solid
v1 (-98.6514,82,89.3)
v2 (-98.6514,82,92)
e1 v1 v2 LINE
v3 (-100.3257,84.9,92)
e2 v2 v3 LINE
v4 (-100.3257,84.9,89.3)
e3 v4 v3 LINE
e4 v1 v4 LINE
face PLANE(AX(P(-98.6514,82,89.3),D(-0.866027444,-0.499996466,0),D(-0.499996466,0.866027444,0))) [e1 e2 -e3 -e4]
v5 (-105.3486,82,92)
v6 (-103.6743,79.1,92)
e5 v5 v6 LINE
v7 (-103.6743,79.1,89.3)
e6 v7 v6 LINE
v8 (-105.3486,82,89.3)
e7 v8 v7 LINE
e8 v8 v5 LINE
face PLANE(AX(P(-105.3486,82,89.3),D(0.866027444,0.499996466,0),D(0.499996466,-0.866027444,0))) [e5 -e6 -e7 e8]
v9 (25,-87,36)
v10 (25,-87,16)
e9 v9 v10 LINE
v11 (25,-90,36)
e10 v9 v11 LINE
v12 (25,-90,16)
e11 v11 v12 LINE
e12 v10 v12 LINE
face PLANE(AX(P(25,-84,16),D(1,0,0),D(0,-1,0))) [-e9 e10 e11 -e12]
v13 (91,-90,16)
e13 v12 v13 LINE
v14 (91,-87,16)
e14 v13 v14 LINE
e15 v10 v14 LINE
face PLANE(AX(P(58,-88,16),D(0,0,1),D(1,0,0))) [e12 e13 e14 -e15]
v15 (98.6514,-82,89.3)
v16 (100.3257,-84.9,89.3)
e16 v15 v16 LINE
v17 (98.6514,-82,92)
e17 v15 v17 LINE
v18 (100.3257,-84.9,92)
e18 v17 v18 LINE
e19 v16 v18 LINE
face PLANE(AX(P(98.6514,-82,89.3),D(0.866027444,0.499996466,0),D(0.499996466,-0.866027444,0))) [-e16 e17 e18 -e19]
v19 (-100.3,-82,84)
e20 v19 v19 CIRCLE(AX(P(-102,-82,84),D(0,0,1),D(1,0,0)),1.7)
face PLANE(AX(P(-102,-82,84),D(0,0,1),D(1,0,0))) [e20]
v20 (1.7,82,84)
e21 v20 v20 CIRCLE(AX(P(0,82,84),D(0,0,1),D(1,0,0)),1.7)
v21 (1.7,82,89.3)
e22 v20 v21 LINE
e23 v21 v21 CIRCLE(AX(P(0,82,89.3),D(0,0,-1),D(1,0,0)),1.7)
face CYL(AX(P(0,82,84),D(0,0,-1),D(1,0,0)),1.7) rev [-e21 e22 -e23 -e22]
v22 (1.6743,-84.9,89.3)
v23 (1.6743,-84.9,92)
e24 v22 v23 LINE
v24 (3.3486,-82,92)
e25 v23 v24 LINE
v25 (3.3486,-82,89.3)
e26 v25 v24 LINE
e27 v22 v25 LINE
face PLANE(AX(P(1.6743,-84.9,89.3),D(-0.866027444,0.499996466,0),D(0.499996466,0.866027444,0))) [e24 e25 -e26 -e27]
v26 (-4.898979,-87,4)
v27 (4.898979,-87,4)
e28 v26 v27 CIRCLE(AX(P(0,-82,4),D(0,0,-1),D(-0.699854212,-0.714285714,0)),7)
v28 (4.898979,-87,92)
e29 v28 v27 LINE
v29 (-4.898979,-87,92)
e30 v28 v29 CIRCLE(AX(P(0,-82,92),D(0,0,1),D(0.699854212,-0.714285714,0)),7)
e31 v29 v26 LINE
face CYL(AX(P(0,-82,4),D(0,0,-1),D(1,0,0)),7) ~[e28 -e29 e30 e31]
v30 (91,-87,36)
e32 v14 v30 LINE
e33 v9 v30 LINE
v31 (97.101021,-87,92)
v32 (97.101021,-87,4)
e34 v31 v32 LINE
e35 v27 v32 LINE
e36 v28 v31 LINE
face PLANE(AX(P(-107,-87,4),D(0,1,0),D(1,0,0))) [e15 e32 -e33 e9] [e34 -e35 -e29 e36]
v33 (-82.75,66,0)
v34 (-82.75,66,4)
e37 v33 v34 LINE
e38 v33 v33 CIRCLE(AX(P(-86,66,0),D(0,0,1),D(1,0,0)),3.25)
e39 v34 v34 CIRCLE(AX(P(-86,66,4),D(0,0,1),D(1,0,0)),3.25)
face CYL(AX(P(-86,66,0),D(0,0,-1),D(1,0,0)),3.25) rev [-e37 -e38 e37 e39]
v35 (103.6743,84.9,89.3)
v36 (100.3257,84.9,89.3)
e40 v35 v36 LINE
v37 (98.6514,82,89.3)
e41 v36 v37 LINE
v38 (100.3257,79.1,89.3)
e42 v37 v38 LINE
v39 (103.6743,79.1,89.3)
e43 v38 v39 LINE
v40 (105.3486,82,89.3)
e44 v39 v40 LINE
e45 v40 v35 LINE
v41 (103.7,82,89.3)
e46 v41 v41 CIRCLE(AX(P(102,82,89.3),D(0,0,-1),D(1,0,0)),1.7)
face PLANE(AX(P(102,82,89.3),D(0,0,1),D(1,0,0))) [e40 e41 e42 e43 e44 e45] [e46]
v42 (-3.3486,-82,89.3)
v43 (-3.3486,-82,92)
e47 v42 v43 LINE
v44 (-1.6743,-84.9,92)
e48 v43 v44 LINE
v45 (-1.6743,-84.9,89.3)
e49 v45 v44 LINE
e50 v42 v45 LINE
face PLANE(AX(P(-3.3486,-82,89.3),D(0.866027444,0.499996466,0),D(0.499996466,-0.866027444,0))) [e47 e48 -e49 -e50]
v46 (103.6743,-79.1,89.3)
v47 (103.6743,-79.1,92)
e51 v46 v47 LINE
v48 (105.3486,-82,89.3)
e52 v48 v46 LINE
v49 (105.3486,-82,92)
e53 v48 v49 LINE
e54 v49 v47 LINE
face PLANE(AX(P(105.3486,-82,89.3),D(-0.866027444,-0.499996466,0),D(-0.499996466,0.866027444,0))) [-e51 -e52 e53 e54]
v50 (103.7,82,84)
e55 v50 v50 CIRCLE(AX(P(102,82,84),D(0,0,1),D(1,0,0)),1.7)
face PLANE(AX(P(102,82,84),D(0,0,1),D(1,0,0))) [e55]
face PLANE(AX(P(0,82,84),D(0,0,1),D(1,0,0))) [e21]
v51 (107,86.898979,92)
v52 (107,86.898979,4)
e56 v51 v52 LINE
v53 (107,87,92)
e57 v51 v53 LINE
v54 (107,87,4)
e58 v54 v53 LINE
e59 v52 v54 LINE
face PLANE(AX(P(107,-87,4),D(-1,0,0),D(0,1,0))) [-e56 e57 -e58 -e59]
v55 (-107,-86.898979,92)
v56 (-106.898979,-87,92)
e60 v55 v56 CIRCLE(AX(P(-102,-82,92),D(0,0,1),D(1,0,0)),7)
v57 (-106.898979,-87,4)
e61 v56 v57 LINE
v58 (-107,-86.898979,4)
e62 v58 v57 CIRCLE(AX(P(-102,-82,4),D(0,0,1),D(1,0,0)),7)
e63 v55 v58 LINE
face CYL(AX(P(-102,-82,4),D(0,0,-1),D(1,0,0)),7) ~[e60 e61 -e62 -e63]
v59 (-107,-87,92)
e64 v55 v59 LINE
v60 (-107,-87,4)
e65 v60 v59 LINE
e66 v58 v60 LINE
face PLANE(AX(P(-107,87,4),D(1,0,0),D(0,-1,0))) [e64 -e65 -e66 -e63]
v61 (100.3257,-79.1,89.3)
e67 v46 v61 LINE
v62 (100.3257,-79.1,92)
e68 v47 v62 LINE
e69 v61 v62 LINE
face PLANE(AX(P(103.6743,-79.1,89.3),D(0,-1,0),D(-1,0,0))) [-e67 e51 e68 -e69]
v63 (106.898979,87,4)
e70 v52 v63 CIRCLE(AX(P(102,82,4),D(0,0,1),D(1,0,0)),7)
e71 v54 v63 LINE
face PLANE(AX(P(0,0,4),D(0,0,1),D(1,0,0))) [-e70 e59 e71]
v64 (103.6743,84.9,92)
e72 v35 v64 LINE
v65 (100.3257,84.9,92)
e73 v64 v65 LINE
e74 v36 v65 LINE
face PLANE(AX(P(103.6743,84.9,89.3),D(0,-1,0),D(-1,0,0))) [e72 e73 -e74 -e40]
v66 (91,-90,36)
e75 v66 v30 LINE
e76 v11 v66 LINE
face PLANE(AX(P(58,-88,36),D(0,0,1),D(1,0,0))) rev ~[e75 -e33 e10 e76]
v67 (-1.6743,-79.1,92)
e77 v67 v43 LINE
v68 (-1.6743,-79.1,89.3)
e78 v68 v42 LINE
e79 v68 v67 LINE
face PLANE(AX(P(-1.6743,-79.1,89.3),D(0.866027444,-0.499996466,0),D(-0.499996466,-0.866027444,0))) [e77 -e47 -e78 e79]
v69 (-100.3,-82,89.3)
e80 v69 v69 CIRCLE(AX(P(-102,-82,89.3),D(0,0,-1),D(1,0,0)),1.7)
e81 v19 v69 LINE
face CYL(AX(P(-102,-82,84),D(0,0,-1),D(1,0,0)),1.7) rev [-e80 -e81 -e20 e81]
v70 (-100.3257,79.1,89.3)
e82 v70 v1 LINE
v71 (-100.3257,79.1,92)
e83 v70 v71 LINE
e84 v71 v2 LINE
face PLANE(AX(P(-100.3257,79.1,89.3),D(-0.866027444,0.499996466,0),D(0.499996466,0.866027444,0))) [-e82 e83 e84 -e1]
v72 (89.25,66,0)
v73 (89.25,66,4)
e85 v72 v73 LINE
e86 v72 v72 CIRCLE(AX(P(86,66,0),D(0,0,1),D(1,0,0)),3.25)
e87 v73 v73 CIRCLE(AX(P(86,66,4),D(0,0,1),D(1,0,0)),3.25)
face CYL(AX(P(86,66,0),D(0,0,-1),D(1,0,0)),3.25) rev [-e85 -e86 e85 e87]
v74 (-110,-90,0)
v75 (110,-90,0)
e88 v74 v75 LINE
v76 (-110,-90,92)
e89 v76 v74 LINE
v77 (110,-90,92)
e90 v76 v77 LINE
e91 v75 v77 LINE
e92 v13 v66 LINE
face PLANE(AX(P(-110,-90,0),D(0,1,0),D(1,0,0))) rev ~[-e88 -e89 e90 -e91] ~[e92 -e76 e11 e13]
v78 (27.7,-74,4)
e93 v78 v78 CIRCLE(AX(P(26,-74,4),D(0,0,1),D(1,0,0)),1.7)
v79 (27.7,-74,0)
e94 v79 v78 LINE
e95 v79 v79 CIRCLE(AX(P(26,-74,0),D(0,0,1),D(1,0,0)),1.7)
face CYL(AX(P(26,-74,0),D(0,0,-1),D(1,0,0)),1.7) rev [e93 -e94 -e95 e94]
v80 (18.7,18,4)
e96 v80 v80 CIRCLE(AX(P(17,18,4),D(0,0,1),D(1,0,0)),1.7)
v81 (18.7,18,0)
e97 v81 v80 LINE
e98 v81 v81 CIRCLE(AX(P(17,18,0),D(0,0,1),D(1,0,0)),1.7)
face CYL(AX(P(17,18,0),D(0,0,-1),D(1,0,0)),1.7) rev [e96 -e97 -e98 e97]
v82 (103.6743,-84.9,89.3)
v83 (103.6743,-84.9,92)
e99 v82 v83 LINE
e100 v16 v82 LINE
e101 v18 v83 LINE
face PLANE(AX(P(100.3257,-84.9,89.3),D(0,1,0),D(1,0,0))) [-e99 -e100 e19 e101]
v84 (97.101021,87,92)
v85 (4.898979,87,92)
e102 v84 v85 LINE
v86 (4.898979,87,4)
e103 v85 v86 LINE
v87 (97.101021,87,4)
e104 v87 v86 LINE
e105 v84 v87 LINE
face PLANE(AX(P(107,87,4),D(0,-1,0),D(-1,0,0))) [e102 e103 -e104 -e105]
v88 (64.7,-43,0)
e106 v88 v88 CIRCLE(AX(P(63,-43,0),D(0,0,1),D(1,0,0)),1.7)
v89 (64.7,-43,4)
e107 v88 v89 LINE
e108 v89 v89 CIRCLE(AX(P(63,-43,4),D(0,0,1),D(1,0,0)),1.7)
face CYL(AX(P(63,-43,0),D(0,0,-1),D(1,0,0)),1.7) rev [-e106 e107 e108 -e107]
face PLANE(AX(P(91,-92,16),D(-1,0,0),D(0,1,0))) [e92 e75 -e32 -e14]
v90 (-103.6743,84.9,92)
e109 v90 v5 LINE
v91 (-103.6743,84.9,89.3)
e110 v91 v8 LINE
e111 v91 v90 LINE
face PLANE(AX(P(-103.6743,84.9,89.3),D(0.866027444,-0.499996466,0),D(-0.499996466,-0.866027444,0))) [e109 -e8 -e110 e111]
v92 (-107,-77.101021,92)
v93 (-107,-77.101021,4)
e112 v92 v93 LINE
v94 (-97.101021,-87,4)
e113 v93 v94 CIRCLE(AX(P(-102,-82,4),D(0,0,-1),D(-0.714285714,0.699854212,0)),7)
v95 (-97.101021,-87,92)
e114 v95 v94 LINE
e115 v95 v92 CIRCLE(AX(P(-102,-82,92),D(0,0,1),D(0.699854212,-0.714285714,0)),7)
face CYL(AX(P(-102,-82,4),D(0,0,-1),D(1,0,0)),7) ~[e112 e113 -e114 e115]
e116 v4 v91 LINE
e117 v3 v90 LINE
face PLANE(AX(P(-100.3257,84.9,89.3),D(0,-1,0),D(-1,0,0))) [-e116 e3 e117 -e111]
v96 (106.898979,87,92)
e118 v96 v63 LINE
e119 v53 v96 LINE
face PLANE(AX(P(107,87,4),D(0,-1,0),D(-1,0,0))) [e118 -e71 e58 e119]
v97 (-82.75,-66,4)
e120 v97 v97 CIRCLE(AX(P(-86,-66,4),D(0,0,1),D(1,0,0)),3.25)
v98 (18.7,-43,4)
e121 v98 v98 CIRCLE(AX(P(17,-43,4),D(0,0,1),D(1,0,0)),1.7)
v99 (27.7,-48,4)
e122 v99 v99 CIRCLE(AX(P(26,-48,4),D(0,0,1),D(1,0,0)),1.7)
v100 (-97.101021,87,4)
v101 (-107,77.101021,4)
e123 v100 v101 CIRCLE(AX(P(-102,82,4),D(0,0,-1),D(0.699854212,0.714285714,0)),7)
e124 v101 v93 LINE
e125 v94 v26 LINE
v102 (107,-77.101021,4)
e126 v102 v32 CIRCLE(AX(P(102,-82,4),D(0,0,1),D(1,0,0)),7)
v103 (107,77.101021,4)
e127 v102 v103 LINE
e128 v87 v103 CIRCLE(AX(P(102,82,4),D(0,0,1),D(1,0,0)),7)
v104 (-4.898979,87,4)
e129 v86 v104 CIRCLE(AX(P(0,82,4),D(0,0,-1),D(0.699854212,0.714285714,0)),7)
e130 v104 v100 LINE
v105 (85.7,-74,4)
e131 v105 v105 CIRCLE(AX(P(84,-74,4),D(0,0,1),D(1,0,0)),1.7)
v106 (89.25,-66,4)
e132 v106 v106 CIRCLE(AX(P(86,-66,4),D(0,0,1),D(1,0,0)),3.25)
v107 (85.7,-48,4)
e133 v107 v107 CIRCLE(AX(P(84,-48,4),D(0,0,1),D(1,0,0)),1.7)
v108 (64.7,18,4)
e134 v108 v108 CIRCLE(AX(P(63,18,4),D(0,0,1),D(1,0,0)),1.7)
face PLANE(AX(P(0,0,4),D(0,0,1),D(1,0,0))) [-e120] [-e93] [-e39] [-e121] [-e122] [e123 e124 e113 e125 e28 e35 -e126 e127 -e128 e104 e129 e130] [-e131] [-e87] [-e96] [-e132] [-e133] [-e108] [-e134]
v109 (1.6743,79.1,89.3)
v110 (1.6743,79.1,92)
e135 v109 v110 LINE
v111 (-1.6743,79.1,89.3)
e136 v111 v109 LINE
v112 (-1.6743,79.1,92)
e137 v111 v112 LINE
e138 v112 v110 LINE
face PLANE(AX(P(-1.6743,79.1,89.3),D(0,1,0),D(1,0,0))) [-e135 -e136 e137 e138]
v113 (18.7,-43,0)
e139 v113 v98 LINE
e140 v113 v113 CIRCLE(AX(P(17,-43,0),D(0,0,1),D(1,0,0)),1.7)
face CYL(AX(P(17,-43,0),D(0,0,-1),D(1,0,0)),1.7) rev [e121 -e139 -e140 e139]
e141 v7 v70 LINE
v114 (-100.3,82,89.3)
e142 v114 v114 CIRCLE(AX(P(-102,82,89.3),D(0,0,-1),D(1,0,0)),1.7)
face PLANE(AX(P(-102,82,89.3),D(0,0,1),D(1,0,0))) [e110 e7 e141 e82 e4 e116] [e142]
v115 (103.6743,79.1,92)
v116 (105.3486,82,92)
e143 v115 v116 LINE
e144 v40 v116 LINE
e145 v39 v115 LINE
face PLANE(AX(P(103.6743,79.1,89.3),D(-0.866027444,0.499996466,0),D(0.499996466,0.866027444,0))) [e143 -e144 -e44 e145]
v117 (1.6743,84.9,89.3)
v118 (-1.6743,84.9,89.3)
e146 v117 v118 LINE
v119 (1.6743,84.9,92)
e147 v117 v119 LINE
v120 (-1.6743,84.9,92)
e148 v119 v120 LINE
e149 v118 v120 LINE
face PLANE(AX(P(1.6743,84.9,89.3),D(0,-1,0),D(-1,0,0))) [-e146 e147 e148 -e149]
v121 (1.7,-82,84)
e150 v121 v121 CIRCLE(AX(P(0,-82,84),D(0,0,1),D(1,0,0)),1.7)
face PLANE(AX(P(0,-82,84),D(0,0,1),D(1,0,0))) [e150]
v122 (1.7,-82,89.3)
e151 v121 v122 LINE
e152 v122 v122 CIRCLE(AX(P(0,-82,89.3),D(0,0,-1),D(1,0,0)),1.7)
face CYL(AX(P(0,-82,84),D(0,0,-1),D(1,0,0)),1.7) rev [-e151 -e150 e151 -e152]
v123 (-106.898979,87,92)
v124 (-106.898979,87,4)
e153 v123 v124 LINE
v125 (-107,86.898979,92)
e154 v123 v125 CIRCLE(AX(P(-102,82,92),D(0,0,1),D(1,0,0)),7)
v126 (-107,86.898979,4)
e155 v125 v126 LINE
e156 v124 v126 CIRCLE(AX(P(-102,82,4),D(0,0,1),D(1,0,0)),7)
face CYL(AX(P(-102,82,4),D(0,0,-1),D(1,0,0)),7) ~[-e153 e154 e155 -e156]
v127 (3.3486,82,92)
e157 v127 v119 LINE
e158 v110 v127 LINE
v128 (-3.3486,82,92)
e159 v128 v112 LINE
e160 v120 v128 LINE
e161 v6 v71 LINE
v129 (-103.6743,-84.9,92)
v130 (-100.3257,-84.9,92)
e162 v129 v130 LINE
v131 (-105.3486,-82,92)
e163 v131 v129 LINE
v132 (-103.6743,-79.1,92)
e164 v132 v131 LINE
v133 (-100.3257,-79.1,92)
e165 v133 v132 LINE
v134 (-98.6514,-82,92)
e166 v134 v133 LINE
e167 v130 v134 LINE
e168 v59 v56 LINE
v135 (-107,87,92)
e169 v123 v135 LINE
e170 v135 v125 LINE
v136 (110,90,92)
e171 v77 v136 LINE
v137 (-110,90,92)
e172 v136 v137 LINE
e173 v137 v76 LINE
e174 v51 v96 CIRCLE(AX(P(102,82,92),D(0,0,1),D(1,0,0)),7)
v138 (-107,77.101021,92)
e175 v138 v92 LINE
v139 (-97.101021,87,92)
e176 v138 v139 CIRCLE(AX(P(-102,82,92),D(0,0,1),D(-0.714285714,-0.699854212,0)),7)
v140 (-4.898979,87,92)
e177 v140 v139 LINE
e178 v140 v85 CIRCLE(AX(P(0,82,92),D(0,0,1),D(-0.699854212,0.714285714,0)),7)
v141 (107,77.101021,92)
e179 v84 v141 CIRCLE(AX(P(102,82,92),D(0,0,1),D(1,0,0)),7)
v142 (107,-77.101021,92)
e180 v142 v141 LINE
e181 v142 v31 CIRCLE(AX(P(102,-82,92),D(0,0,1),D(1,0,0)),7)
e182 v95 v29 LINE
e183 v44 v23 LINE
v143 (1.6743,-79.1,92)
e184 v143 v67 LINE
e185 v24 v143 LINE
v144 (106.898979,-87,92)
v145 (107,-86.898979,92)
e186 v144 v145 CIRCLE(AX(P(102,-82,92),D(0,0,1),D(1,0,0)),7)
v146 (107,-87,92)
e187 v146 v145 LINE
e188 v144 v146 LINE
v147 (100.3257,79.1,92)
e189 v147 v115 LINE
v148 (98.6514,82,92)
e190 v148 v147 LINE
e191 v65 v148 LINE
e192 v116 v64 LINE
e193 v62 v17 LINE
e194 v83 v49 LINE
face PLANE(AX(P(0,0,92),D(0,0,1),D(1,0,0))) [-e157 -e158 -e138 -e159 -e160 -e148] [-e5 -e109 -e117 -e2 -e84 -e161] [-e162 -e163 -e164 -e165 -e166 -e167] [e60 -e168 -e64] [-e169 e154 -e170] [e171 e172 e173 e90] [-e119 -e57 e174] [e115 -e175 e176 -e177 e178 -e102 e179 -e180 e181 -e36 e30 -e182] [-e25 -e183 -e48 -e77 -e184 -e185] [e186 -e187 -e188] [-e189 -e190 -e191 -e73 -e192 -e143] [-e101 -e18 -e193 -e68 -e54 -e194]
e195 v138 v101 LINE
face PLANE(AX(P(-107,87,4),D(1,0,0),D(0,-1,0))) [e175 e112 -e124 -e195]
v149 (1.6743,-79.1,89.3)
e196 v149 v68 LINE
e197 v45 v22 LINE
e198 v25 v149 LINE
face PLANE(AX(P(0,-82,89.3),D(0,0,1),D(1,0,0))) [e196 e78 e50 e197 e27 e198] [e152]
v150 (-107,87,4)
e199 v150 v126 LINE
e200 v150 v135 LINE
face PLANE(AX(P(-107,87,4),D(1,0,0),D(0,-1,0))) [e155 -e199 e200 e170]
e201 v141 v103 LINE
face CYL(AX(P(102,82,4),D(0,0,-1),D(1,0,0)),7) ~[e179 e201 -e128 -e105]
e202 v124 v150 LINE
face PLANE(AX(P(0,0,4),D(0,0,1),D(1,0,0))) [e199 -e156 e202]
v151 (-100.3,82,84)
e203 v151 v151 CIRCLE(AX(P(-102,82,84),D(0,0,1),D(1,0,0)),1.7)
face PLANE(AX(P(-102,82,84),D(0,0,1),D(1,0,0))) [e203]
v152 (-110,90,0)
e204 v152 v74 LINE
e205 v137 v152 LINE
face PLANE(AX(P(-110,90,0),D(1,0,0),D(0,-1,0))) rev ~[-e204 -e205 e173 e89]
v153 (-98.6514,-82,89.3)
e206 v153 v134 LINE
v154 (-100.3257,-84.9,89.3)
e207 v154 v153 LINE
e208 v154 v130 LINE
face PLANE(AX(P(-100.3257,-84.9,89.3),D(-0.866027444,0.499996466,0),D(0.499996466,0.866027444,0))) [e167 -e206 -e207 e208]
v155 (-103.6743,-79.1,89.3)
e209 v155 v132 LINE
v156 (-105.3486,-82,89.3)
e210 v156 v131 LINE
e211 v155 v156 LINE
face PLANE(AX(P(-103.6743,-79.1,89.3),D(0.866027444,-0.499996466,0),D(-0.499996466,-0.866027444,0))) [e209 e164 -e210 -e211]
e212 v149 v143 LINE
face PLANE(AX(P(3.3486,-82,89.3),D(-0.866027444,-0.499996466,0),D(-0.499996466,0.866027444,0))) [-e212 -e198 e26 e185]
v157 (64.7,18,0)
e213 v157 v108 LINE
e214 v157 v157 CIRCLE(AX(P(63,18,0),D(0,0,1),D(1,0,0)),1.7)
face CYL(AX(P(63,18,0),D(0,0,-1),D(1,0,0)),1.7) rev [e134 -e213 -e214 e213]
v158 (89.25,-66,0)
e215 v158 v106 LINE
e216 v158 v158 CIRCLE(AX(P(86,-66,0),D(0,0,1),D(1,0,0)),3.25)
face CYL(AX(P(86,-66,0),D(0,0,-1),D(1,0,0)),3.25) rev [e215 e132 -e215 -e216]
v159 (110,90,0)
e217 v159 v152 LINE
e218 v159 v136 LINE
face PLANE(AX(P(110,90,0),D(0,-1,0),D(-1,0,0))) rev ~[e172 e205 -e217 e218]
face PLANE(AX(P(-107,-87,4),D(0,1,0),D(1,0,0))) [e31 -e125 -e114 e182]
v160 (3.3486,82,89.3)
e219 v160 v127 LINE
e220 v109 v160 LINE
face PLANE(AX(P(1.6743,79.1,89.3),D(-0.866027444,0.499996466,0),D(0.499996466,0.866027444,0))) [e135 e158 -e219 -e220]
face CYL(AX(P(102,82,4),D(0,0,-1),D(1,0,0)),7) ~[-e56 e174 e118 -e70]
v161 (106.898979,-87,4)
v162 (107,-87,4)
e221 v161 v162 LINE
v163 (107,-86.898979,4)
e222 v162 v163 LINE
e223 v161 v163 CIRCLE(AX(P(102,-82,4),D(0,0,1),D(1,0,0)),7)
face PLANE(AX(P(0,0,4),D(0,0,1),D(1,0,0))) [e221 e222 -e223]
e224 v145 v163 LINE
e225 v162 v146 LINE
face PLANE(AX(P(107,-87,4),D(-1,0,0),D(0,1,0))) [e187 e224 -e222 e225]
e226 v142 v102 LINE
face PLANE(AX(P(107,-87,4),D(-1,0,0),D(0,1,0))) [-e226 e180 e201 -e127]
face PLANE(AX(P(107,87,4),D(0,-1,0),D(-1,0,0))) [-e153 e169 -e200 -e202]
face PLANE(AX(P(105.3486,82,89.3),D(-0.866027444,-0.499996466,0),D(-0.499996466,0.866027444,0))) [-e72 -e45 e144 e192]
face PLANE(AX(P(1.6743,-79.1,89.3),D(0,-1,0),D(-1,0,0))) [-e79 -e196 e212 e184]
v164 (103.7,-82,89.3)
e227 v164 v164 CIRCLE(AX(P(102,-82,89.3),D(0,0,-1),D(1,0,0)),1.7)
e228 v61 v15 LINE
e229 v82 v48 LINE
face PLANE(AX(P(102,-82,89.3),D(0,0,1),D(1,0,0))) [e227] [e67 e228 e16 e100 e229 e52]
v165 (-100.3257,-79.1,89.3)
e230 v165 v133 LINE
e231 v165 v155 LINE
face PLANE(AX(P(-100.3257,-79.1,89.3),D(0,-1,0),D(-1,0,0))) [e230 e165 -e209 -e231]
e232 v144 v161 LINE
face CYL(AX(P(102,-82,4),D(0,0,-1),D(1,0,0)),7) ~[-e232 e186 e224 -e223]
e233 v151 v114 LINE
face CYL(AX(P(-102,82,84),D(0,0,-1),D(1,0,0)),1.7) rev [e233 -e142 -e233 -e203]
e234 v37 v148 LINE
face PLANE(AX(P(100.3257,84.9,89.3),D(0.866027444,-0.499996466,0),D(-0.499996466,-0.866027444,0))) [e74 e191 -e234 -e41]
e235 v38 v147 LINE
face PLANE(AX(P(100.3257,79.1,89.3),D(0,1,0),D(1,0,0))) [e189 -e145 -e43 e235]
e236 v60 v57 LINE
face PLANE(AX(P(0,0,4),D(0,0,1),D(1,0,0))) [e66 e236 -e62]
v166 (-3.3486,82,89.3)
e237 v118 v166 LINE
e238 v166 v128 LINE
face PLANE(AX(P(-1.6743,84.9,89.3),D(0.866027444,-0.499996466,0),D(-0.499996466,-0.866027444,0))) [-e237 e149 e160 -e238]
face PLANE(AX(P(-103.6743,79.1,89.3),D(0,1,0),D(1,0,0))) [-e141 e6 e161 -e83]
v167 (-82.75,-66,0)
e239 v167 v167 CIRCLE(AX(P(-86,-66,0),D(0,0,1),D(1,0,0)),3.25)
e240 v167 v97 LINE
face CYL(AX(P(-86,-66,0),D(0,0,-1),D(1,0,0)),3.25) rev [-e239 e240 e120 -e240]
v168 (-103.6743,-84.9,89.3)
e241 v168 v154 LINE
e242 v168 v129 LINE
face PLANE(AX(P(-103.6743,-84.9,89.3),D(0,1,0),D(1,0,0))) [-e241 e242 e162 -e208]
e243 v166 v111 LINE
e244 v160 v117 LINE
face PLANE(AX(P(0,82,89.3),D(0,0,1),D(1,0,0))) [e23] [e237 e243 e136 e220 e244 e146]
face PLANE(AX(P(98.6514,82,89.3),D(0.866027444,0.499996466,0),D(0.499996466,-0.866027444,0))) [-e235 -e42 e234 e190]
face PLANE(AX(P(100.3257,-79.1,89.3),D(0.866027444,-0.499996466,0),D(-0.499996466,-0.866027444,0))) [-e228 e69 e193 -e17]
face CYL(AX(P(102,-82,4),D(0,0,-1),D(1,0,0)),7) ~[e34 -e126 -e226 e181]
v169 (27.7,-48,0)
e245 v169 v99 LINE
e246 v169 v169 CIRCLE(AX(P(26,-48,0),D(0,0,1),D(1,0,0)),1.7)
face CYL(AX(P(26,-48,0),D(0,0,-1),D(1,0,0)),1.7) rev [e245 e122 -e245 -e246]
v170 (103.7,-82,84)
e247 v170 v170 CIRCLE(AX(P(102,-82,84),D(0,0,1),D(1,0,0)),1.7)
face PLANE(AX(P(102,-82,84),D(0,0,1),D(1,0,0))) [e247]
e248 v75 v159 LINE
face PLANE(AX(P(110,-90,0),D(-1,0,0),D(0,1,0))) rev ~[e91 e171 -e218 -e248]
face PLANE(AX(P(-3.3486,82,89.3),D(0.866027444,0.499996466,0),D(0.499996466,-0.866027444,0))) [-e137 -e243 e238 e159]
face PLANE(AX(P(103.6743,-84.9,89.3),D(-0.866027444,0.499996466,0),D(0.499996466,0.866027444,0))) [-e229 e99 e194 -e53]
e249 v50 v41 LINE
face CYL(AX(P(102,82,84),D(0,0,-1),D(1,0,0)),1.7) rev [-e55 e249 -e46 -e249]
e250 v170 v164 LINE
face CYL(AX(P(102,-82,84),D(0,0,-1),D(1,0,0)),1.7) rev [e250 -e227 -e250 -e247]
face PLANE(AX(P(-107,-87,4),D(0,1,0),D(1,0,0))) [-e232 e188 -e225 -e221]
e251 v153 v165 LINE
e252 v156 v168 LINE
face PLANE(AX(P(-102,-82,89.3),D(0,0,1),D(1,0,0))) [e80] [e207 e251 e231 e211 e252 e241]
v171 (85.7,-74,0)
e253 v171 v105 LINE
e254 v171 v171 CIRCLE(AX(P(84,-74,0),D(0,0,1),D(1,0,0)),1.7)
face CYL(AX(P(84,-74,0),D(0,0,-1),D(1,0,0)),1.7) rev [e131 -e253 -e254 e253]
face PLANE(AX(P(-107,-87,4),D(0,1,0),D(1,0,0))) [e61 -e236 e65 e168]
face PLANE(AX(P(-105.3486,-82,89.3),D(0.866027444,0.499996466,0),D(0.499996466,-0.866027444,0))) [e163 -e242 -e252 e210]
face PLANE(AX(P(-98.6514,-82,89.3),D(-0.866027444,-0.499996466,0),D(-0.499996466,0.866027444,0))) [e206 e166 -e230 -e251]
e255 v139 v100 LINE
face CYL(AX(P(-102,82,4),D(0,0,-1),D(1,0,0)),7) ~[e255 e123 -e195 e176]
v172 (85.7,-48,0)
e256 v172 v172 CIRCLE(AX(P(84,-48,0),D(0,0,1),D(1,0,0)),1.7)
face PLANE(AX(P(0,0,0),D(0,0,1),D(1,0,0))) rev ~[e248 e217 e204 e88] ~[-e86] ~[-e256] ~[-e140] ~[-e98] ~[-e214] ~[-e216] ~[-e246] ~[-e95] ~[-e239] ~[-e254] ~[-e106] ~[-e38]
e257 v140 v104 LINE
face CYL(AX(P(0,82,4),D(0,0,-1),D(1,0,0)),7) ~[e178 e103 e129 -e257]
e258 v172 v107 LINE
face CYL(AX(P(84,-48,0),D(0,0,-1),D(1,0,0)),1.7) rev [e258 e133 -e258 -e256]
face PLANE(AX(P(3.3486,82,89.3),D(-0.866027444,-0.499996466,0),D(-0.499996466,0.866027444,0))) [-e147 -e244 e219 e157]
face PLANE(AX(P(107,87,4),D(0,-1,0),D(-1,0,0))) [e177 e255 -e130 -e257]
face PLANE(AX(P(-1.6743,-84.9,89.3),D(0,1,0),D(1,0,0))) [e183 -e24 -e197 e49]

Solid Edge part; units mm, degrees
sketch "Sketch1" plane through (0, 0, 0) normal (0, 0, 1) x (1, 0, 0)
  line L0 (-110, -90) -> (110, -90)
  line L1 (110, -90) -> (110, 90)
  line L2 (110, 90) -> (-110, 90)
  line L3 (-110, 90) -> (-110, -90)
  circle A0 centre (-86, -66) radius 3.25
  circle A1 centre (-86, 66) radius 3.25
  circle A2 centre (86, -66) radius 3.25
  circle A3 centre (86, 66) radius 3.25
extrude "Protrusion1" add sketch "Sketch1" along normal blind 4
sketch "Sketch2" plane through (0, 0, 4) normal (0, 0, 1) x (1, 0, 0)
  line L0 (-110, -90) -> (110, -90)
  line L1 (110, -90) -> (110, 90)
  line L2 (110, 90) -> (-110, 90)
  line L3 (-110, 90) -> (-110, -90)
  line L4 (-107, -87) -> (107, -87)
  line L5 (107, -87) -> (107, 87)
  line L6 (107, 87) -> (-107, 87)
  line L7 (-107, 87) -> (-107, -87)
extrude "ExtrudedProtrusion_2" add sketch "Sketch2" along normal blind 88
sketch "Sketch3" plane through (0, 0, 4) normal (0, 0, 1) x (1, 0, 0)
  circle A0 centre (-102, -82) radius 7
extrude "ExtrudedProtrusion_3" add sketch "Sketch3" along normal blind 88
sketch "Sketch4" plane through (0, 0, 4) normal (0, 0, 1) x (1, 0, 0)
  circle A0 centre (-102, 82) radius 7
extrude "ExtrudedProtrusion_4" add sketch "Sketch4" along normal blind 88
sketch "Sketch5" plane through (0, 0, 4) normal (0, 0, 1) x (1, 0, 0)
  circle A0 centre (102, -82) radius 7
extrude "ExtrudedProtrusion_5" add sketch "Sketch5" along normal blind 88
sketch "Sketch6" plane through (0, 0, 4) normal (0, 0, 1) x (1, 0, 0)
  circle A0 centre (102, 82) radius 7
extrude "ExtrudedProtrusion_6" add sketch "Sketch6" along normal blind 88
sketch "Sketch7" plane through (0, 0, 4) normal (0, 0, 1) x (1, 0, 0)
  circle A0 centre (0, -82) radius 7
extrude "ExtrudedProtrusion_7" add sketch "Sketch7" along normal blind 88
sketch "Sketch8" plane through (0, 0, 4) normal (0, 0, 1) x (1, 0, 0)
  circle A0 centre (0, 82) radius 7
extrude "ExtrudedProtrusion_8" add sketch "Sketch8" along normal blind 88
sketch "Sketch9" plane through (0, 0, 84) normal (0, 0, 1) x (1, 0, 0)
  circle A0 centre (-102, -82) radius 1.7
  circle A1 centre (-102, 82) radius 1.7
  circle A2 centre (102, -82) radius 1.7
  circle A3 centre (102, 82) radius 1.7
  circle A4 centre (0, -82) radius 1.7
  circle A5 centre (0, 82) radius 1.7
extrude "ExtrudedCutout_1" cut sketch "Sketch9" along normal blind 8
sketch "Sketch10" plane through (0, 0, 89.3) normal (0, 0, 1) x (1, 0, 0)
  line L0 (-98.6514, -82) -> (-100.3257, -79.1)
  line L1 (-100.3257, -79.1) -> (-103.6743, -79.1)
  line L2 (-103.6743, -79.1) -> (-105.3486, -82)
  line L3 (-105.3486, -82) -> (-103.6743, -84.9)
  line L4 (-103.6743, -84.9) -> (-100.3257, -84.9)
  line L5 (-100.3257, -84.9) -> (-98.6514, -82)
  line L6 (-98.6514, 82) -> (-100.3257, 84.9)
  line L7 (-100.3257, 84.9) -> (-103.6743, 84.9)
  line L8 (-103.6743, 84.9) -> (-105.3486, 82)
  line L9 (-105.3486, 82) -> (-103.6743, 79.1)
  line L10 (-103.6743, 79.1) -> (-100.3257, 79.1)
  line L11 (-100.3257, 79.1) -> (-98.6514, 82)
  line L12 (105.3486, -82) -> (103.6743, -79.1)
  line L13 (103.6743, -79.1) -> (100.3257, -79.1)
  line L14 (100.3257, -79.1) -> (98.6514, -82)
  line L15 (98.6514, -82) -> (100.3257, -84.9)
  line L16 (100.3257, -84.9) -> (103.6743, -84.9)
  line L17 (103.6743, -84.9) -> (105.3486, -82)
  line L18 (105.3486, 82) -> (103.6743, 84.9)
  line L19 (103.6743, 84.9) -> (100.3257, 84.9)
  line L20 (100.3257, 84.9) -> (98.6514, 82)
  line L21 (98.6514, 82) -> (100.3257, 79.1)
  line L22 (100.3257, 79.1) -> (103.6743, 79.1)
  line L23 (103.6743, 79.1) -> (105.3486, 82)
  line L24 (3.3486, -82) -> (1.6743, -79.1)
  line L25 (1.6743, -79.1) -> (-1.6743, -79.1)
  line L26 (-1.6743, -79.1) -> (-3.3486, -82)
  line L27 (-3.3486, -82) -> (-1.6743, -84.9)
  line L28 (-1.6743, -84.9) -> (1.6743, -84.9)
  line L29 (1.6743, -84.9) -> (3.3486, -82)
  line L30 (3.3486, 82) -> (1.6743, 84.9)
  line L31 (1.6743, 84.9) -> (-1.6743, 84.9)
  line L32 (-1.6743, 84.9) -> (-3.3486, 82)
  line L33 (-3.3486, 82) -> (-1.6743, 79.1)
  line L34 (-1.6743, 79.1) -> (1.6743, 79.1)
  line L35 (1.6743, 79.1) -> (3.3486, 82)
extrude "ExtrudedCutout_2" cut sketch "Sketch10" along normal blind 2.7
sketch "Sketch11" plane through (0, 0, 16) normal (0, 0, 1) x (1, 0, 0)
  line L0 (25, -92) -> (91, -92)
  line L1 (91, -92) -> (91, -84)
  line L2 (91, -84) -> (25, -84)
  line L3 (25, -84) -> (25, -92)
extrude "ExtrudedCutout_3" cut sketch "Sketch11" along normal blind 20
sketch "Sketch12" plane through (0, 0, 0) normal (0, 0, 1) x (1, 0, 0)
  circle A0 centre (17, -43) radius 1.7
  circle A1 centre (63, -43) radius 1.7
  circle A2 centre (17, 18) radius 1.7
  circle A3 centre (63, 18) radius 1.7
extrude "ExtrudedCutout_4" cut sketch "Sketch12" along normal blind 4
sketch "Sketch13" plane through (0, 0, 0) normal (0, 0, 1) x (1, 0, 0)
  circle A0 centre (26, -74) radius 1.7
  circle A1 centre (26, -48) radius 1.7
  circle A2 centre (84, -74) radius 1.7
  circle A3 centre (84, -48) radius 1.7
extrude "ExtrudedCutout_5" cut sketch "Sketch13" along normal blind 4
